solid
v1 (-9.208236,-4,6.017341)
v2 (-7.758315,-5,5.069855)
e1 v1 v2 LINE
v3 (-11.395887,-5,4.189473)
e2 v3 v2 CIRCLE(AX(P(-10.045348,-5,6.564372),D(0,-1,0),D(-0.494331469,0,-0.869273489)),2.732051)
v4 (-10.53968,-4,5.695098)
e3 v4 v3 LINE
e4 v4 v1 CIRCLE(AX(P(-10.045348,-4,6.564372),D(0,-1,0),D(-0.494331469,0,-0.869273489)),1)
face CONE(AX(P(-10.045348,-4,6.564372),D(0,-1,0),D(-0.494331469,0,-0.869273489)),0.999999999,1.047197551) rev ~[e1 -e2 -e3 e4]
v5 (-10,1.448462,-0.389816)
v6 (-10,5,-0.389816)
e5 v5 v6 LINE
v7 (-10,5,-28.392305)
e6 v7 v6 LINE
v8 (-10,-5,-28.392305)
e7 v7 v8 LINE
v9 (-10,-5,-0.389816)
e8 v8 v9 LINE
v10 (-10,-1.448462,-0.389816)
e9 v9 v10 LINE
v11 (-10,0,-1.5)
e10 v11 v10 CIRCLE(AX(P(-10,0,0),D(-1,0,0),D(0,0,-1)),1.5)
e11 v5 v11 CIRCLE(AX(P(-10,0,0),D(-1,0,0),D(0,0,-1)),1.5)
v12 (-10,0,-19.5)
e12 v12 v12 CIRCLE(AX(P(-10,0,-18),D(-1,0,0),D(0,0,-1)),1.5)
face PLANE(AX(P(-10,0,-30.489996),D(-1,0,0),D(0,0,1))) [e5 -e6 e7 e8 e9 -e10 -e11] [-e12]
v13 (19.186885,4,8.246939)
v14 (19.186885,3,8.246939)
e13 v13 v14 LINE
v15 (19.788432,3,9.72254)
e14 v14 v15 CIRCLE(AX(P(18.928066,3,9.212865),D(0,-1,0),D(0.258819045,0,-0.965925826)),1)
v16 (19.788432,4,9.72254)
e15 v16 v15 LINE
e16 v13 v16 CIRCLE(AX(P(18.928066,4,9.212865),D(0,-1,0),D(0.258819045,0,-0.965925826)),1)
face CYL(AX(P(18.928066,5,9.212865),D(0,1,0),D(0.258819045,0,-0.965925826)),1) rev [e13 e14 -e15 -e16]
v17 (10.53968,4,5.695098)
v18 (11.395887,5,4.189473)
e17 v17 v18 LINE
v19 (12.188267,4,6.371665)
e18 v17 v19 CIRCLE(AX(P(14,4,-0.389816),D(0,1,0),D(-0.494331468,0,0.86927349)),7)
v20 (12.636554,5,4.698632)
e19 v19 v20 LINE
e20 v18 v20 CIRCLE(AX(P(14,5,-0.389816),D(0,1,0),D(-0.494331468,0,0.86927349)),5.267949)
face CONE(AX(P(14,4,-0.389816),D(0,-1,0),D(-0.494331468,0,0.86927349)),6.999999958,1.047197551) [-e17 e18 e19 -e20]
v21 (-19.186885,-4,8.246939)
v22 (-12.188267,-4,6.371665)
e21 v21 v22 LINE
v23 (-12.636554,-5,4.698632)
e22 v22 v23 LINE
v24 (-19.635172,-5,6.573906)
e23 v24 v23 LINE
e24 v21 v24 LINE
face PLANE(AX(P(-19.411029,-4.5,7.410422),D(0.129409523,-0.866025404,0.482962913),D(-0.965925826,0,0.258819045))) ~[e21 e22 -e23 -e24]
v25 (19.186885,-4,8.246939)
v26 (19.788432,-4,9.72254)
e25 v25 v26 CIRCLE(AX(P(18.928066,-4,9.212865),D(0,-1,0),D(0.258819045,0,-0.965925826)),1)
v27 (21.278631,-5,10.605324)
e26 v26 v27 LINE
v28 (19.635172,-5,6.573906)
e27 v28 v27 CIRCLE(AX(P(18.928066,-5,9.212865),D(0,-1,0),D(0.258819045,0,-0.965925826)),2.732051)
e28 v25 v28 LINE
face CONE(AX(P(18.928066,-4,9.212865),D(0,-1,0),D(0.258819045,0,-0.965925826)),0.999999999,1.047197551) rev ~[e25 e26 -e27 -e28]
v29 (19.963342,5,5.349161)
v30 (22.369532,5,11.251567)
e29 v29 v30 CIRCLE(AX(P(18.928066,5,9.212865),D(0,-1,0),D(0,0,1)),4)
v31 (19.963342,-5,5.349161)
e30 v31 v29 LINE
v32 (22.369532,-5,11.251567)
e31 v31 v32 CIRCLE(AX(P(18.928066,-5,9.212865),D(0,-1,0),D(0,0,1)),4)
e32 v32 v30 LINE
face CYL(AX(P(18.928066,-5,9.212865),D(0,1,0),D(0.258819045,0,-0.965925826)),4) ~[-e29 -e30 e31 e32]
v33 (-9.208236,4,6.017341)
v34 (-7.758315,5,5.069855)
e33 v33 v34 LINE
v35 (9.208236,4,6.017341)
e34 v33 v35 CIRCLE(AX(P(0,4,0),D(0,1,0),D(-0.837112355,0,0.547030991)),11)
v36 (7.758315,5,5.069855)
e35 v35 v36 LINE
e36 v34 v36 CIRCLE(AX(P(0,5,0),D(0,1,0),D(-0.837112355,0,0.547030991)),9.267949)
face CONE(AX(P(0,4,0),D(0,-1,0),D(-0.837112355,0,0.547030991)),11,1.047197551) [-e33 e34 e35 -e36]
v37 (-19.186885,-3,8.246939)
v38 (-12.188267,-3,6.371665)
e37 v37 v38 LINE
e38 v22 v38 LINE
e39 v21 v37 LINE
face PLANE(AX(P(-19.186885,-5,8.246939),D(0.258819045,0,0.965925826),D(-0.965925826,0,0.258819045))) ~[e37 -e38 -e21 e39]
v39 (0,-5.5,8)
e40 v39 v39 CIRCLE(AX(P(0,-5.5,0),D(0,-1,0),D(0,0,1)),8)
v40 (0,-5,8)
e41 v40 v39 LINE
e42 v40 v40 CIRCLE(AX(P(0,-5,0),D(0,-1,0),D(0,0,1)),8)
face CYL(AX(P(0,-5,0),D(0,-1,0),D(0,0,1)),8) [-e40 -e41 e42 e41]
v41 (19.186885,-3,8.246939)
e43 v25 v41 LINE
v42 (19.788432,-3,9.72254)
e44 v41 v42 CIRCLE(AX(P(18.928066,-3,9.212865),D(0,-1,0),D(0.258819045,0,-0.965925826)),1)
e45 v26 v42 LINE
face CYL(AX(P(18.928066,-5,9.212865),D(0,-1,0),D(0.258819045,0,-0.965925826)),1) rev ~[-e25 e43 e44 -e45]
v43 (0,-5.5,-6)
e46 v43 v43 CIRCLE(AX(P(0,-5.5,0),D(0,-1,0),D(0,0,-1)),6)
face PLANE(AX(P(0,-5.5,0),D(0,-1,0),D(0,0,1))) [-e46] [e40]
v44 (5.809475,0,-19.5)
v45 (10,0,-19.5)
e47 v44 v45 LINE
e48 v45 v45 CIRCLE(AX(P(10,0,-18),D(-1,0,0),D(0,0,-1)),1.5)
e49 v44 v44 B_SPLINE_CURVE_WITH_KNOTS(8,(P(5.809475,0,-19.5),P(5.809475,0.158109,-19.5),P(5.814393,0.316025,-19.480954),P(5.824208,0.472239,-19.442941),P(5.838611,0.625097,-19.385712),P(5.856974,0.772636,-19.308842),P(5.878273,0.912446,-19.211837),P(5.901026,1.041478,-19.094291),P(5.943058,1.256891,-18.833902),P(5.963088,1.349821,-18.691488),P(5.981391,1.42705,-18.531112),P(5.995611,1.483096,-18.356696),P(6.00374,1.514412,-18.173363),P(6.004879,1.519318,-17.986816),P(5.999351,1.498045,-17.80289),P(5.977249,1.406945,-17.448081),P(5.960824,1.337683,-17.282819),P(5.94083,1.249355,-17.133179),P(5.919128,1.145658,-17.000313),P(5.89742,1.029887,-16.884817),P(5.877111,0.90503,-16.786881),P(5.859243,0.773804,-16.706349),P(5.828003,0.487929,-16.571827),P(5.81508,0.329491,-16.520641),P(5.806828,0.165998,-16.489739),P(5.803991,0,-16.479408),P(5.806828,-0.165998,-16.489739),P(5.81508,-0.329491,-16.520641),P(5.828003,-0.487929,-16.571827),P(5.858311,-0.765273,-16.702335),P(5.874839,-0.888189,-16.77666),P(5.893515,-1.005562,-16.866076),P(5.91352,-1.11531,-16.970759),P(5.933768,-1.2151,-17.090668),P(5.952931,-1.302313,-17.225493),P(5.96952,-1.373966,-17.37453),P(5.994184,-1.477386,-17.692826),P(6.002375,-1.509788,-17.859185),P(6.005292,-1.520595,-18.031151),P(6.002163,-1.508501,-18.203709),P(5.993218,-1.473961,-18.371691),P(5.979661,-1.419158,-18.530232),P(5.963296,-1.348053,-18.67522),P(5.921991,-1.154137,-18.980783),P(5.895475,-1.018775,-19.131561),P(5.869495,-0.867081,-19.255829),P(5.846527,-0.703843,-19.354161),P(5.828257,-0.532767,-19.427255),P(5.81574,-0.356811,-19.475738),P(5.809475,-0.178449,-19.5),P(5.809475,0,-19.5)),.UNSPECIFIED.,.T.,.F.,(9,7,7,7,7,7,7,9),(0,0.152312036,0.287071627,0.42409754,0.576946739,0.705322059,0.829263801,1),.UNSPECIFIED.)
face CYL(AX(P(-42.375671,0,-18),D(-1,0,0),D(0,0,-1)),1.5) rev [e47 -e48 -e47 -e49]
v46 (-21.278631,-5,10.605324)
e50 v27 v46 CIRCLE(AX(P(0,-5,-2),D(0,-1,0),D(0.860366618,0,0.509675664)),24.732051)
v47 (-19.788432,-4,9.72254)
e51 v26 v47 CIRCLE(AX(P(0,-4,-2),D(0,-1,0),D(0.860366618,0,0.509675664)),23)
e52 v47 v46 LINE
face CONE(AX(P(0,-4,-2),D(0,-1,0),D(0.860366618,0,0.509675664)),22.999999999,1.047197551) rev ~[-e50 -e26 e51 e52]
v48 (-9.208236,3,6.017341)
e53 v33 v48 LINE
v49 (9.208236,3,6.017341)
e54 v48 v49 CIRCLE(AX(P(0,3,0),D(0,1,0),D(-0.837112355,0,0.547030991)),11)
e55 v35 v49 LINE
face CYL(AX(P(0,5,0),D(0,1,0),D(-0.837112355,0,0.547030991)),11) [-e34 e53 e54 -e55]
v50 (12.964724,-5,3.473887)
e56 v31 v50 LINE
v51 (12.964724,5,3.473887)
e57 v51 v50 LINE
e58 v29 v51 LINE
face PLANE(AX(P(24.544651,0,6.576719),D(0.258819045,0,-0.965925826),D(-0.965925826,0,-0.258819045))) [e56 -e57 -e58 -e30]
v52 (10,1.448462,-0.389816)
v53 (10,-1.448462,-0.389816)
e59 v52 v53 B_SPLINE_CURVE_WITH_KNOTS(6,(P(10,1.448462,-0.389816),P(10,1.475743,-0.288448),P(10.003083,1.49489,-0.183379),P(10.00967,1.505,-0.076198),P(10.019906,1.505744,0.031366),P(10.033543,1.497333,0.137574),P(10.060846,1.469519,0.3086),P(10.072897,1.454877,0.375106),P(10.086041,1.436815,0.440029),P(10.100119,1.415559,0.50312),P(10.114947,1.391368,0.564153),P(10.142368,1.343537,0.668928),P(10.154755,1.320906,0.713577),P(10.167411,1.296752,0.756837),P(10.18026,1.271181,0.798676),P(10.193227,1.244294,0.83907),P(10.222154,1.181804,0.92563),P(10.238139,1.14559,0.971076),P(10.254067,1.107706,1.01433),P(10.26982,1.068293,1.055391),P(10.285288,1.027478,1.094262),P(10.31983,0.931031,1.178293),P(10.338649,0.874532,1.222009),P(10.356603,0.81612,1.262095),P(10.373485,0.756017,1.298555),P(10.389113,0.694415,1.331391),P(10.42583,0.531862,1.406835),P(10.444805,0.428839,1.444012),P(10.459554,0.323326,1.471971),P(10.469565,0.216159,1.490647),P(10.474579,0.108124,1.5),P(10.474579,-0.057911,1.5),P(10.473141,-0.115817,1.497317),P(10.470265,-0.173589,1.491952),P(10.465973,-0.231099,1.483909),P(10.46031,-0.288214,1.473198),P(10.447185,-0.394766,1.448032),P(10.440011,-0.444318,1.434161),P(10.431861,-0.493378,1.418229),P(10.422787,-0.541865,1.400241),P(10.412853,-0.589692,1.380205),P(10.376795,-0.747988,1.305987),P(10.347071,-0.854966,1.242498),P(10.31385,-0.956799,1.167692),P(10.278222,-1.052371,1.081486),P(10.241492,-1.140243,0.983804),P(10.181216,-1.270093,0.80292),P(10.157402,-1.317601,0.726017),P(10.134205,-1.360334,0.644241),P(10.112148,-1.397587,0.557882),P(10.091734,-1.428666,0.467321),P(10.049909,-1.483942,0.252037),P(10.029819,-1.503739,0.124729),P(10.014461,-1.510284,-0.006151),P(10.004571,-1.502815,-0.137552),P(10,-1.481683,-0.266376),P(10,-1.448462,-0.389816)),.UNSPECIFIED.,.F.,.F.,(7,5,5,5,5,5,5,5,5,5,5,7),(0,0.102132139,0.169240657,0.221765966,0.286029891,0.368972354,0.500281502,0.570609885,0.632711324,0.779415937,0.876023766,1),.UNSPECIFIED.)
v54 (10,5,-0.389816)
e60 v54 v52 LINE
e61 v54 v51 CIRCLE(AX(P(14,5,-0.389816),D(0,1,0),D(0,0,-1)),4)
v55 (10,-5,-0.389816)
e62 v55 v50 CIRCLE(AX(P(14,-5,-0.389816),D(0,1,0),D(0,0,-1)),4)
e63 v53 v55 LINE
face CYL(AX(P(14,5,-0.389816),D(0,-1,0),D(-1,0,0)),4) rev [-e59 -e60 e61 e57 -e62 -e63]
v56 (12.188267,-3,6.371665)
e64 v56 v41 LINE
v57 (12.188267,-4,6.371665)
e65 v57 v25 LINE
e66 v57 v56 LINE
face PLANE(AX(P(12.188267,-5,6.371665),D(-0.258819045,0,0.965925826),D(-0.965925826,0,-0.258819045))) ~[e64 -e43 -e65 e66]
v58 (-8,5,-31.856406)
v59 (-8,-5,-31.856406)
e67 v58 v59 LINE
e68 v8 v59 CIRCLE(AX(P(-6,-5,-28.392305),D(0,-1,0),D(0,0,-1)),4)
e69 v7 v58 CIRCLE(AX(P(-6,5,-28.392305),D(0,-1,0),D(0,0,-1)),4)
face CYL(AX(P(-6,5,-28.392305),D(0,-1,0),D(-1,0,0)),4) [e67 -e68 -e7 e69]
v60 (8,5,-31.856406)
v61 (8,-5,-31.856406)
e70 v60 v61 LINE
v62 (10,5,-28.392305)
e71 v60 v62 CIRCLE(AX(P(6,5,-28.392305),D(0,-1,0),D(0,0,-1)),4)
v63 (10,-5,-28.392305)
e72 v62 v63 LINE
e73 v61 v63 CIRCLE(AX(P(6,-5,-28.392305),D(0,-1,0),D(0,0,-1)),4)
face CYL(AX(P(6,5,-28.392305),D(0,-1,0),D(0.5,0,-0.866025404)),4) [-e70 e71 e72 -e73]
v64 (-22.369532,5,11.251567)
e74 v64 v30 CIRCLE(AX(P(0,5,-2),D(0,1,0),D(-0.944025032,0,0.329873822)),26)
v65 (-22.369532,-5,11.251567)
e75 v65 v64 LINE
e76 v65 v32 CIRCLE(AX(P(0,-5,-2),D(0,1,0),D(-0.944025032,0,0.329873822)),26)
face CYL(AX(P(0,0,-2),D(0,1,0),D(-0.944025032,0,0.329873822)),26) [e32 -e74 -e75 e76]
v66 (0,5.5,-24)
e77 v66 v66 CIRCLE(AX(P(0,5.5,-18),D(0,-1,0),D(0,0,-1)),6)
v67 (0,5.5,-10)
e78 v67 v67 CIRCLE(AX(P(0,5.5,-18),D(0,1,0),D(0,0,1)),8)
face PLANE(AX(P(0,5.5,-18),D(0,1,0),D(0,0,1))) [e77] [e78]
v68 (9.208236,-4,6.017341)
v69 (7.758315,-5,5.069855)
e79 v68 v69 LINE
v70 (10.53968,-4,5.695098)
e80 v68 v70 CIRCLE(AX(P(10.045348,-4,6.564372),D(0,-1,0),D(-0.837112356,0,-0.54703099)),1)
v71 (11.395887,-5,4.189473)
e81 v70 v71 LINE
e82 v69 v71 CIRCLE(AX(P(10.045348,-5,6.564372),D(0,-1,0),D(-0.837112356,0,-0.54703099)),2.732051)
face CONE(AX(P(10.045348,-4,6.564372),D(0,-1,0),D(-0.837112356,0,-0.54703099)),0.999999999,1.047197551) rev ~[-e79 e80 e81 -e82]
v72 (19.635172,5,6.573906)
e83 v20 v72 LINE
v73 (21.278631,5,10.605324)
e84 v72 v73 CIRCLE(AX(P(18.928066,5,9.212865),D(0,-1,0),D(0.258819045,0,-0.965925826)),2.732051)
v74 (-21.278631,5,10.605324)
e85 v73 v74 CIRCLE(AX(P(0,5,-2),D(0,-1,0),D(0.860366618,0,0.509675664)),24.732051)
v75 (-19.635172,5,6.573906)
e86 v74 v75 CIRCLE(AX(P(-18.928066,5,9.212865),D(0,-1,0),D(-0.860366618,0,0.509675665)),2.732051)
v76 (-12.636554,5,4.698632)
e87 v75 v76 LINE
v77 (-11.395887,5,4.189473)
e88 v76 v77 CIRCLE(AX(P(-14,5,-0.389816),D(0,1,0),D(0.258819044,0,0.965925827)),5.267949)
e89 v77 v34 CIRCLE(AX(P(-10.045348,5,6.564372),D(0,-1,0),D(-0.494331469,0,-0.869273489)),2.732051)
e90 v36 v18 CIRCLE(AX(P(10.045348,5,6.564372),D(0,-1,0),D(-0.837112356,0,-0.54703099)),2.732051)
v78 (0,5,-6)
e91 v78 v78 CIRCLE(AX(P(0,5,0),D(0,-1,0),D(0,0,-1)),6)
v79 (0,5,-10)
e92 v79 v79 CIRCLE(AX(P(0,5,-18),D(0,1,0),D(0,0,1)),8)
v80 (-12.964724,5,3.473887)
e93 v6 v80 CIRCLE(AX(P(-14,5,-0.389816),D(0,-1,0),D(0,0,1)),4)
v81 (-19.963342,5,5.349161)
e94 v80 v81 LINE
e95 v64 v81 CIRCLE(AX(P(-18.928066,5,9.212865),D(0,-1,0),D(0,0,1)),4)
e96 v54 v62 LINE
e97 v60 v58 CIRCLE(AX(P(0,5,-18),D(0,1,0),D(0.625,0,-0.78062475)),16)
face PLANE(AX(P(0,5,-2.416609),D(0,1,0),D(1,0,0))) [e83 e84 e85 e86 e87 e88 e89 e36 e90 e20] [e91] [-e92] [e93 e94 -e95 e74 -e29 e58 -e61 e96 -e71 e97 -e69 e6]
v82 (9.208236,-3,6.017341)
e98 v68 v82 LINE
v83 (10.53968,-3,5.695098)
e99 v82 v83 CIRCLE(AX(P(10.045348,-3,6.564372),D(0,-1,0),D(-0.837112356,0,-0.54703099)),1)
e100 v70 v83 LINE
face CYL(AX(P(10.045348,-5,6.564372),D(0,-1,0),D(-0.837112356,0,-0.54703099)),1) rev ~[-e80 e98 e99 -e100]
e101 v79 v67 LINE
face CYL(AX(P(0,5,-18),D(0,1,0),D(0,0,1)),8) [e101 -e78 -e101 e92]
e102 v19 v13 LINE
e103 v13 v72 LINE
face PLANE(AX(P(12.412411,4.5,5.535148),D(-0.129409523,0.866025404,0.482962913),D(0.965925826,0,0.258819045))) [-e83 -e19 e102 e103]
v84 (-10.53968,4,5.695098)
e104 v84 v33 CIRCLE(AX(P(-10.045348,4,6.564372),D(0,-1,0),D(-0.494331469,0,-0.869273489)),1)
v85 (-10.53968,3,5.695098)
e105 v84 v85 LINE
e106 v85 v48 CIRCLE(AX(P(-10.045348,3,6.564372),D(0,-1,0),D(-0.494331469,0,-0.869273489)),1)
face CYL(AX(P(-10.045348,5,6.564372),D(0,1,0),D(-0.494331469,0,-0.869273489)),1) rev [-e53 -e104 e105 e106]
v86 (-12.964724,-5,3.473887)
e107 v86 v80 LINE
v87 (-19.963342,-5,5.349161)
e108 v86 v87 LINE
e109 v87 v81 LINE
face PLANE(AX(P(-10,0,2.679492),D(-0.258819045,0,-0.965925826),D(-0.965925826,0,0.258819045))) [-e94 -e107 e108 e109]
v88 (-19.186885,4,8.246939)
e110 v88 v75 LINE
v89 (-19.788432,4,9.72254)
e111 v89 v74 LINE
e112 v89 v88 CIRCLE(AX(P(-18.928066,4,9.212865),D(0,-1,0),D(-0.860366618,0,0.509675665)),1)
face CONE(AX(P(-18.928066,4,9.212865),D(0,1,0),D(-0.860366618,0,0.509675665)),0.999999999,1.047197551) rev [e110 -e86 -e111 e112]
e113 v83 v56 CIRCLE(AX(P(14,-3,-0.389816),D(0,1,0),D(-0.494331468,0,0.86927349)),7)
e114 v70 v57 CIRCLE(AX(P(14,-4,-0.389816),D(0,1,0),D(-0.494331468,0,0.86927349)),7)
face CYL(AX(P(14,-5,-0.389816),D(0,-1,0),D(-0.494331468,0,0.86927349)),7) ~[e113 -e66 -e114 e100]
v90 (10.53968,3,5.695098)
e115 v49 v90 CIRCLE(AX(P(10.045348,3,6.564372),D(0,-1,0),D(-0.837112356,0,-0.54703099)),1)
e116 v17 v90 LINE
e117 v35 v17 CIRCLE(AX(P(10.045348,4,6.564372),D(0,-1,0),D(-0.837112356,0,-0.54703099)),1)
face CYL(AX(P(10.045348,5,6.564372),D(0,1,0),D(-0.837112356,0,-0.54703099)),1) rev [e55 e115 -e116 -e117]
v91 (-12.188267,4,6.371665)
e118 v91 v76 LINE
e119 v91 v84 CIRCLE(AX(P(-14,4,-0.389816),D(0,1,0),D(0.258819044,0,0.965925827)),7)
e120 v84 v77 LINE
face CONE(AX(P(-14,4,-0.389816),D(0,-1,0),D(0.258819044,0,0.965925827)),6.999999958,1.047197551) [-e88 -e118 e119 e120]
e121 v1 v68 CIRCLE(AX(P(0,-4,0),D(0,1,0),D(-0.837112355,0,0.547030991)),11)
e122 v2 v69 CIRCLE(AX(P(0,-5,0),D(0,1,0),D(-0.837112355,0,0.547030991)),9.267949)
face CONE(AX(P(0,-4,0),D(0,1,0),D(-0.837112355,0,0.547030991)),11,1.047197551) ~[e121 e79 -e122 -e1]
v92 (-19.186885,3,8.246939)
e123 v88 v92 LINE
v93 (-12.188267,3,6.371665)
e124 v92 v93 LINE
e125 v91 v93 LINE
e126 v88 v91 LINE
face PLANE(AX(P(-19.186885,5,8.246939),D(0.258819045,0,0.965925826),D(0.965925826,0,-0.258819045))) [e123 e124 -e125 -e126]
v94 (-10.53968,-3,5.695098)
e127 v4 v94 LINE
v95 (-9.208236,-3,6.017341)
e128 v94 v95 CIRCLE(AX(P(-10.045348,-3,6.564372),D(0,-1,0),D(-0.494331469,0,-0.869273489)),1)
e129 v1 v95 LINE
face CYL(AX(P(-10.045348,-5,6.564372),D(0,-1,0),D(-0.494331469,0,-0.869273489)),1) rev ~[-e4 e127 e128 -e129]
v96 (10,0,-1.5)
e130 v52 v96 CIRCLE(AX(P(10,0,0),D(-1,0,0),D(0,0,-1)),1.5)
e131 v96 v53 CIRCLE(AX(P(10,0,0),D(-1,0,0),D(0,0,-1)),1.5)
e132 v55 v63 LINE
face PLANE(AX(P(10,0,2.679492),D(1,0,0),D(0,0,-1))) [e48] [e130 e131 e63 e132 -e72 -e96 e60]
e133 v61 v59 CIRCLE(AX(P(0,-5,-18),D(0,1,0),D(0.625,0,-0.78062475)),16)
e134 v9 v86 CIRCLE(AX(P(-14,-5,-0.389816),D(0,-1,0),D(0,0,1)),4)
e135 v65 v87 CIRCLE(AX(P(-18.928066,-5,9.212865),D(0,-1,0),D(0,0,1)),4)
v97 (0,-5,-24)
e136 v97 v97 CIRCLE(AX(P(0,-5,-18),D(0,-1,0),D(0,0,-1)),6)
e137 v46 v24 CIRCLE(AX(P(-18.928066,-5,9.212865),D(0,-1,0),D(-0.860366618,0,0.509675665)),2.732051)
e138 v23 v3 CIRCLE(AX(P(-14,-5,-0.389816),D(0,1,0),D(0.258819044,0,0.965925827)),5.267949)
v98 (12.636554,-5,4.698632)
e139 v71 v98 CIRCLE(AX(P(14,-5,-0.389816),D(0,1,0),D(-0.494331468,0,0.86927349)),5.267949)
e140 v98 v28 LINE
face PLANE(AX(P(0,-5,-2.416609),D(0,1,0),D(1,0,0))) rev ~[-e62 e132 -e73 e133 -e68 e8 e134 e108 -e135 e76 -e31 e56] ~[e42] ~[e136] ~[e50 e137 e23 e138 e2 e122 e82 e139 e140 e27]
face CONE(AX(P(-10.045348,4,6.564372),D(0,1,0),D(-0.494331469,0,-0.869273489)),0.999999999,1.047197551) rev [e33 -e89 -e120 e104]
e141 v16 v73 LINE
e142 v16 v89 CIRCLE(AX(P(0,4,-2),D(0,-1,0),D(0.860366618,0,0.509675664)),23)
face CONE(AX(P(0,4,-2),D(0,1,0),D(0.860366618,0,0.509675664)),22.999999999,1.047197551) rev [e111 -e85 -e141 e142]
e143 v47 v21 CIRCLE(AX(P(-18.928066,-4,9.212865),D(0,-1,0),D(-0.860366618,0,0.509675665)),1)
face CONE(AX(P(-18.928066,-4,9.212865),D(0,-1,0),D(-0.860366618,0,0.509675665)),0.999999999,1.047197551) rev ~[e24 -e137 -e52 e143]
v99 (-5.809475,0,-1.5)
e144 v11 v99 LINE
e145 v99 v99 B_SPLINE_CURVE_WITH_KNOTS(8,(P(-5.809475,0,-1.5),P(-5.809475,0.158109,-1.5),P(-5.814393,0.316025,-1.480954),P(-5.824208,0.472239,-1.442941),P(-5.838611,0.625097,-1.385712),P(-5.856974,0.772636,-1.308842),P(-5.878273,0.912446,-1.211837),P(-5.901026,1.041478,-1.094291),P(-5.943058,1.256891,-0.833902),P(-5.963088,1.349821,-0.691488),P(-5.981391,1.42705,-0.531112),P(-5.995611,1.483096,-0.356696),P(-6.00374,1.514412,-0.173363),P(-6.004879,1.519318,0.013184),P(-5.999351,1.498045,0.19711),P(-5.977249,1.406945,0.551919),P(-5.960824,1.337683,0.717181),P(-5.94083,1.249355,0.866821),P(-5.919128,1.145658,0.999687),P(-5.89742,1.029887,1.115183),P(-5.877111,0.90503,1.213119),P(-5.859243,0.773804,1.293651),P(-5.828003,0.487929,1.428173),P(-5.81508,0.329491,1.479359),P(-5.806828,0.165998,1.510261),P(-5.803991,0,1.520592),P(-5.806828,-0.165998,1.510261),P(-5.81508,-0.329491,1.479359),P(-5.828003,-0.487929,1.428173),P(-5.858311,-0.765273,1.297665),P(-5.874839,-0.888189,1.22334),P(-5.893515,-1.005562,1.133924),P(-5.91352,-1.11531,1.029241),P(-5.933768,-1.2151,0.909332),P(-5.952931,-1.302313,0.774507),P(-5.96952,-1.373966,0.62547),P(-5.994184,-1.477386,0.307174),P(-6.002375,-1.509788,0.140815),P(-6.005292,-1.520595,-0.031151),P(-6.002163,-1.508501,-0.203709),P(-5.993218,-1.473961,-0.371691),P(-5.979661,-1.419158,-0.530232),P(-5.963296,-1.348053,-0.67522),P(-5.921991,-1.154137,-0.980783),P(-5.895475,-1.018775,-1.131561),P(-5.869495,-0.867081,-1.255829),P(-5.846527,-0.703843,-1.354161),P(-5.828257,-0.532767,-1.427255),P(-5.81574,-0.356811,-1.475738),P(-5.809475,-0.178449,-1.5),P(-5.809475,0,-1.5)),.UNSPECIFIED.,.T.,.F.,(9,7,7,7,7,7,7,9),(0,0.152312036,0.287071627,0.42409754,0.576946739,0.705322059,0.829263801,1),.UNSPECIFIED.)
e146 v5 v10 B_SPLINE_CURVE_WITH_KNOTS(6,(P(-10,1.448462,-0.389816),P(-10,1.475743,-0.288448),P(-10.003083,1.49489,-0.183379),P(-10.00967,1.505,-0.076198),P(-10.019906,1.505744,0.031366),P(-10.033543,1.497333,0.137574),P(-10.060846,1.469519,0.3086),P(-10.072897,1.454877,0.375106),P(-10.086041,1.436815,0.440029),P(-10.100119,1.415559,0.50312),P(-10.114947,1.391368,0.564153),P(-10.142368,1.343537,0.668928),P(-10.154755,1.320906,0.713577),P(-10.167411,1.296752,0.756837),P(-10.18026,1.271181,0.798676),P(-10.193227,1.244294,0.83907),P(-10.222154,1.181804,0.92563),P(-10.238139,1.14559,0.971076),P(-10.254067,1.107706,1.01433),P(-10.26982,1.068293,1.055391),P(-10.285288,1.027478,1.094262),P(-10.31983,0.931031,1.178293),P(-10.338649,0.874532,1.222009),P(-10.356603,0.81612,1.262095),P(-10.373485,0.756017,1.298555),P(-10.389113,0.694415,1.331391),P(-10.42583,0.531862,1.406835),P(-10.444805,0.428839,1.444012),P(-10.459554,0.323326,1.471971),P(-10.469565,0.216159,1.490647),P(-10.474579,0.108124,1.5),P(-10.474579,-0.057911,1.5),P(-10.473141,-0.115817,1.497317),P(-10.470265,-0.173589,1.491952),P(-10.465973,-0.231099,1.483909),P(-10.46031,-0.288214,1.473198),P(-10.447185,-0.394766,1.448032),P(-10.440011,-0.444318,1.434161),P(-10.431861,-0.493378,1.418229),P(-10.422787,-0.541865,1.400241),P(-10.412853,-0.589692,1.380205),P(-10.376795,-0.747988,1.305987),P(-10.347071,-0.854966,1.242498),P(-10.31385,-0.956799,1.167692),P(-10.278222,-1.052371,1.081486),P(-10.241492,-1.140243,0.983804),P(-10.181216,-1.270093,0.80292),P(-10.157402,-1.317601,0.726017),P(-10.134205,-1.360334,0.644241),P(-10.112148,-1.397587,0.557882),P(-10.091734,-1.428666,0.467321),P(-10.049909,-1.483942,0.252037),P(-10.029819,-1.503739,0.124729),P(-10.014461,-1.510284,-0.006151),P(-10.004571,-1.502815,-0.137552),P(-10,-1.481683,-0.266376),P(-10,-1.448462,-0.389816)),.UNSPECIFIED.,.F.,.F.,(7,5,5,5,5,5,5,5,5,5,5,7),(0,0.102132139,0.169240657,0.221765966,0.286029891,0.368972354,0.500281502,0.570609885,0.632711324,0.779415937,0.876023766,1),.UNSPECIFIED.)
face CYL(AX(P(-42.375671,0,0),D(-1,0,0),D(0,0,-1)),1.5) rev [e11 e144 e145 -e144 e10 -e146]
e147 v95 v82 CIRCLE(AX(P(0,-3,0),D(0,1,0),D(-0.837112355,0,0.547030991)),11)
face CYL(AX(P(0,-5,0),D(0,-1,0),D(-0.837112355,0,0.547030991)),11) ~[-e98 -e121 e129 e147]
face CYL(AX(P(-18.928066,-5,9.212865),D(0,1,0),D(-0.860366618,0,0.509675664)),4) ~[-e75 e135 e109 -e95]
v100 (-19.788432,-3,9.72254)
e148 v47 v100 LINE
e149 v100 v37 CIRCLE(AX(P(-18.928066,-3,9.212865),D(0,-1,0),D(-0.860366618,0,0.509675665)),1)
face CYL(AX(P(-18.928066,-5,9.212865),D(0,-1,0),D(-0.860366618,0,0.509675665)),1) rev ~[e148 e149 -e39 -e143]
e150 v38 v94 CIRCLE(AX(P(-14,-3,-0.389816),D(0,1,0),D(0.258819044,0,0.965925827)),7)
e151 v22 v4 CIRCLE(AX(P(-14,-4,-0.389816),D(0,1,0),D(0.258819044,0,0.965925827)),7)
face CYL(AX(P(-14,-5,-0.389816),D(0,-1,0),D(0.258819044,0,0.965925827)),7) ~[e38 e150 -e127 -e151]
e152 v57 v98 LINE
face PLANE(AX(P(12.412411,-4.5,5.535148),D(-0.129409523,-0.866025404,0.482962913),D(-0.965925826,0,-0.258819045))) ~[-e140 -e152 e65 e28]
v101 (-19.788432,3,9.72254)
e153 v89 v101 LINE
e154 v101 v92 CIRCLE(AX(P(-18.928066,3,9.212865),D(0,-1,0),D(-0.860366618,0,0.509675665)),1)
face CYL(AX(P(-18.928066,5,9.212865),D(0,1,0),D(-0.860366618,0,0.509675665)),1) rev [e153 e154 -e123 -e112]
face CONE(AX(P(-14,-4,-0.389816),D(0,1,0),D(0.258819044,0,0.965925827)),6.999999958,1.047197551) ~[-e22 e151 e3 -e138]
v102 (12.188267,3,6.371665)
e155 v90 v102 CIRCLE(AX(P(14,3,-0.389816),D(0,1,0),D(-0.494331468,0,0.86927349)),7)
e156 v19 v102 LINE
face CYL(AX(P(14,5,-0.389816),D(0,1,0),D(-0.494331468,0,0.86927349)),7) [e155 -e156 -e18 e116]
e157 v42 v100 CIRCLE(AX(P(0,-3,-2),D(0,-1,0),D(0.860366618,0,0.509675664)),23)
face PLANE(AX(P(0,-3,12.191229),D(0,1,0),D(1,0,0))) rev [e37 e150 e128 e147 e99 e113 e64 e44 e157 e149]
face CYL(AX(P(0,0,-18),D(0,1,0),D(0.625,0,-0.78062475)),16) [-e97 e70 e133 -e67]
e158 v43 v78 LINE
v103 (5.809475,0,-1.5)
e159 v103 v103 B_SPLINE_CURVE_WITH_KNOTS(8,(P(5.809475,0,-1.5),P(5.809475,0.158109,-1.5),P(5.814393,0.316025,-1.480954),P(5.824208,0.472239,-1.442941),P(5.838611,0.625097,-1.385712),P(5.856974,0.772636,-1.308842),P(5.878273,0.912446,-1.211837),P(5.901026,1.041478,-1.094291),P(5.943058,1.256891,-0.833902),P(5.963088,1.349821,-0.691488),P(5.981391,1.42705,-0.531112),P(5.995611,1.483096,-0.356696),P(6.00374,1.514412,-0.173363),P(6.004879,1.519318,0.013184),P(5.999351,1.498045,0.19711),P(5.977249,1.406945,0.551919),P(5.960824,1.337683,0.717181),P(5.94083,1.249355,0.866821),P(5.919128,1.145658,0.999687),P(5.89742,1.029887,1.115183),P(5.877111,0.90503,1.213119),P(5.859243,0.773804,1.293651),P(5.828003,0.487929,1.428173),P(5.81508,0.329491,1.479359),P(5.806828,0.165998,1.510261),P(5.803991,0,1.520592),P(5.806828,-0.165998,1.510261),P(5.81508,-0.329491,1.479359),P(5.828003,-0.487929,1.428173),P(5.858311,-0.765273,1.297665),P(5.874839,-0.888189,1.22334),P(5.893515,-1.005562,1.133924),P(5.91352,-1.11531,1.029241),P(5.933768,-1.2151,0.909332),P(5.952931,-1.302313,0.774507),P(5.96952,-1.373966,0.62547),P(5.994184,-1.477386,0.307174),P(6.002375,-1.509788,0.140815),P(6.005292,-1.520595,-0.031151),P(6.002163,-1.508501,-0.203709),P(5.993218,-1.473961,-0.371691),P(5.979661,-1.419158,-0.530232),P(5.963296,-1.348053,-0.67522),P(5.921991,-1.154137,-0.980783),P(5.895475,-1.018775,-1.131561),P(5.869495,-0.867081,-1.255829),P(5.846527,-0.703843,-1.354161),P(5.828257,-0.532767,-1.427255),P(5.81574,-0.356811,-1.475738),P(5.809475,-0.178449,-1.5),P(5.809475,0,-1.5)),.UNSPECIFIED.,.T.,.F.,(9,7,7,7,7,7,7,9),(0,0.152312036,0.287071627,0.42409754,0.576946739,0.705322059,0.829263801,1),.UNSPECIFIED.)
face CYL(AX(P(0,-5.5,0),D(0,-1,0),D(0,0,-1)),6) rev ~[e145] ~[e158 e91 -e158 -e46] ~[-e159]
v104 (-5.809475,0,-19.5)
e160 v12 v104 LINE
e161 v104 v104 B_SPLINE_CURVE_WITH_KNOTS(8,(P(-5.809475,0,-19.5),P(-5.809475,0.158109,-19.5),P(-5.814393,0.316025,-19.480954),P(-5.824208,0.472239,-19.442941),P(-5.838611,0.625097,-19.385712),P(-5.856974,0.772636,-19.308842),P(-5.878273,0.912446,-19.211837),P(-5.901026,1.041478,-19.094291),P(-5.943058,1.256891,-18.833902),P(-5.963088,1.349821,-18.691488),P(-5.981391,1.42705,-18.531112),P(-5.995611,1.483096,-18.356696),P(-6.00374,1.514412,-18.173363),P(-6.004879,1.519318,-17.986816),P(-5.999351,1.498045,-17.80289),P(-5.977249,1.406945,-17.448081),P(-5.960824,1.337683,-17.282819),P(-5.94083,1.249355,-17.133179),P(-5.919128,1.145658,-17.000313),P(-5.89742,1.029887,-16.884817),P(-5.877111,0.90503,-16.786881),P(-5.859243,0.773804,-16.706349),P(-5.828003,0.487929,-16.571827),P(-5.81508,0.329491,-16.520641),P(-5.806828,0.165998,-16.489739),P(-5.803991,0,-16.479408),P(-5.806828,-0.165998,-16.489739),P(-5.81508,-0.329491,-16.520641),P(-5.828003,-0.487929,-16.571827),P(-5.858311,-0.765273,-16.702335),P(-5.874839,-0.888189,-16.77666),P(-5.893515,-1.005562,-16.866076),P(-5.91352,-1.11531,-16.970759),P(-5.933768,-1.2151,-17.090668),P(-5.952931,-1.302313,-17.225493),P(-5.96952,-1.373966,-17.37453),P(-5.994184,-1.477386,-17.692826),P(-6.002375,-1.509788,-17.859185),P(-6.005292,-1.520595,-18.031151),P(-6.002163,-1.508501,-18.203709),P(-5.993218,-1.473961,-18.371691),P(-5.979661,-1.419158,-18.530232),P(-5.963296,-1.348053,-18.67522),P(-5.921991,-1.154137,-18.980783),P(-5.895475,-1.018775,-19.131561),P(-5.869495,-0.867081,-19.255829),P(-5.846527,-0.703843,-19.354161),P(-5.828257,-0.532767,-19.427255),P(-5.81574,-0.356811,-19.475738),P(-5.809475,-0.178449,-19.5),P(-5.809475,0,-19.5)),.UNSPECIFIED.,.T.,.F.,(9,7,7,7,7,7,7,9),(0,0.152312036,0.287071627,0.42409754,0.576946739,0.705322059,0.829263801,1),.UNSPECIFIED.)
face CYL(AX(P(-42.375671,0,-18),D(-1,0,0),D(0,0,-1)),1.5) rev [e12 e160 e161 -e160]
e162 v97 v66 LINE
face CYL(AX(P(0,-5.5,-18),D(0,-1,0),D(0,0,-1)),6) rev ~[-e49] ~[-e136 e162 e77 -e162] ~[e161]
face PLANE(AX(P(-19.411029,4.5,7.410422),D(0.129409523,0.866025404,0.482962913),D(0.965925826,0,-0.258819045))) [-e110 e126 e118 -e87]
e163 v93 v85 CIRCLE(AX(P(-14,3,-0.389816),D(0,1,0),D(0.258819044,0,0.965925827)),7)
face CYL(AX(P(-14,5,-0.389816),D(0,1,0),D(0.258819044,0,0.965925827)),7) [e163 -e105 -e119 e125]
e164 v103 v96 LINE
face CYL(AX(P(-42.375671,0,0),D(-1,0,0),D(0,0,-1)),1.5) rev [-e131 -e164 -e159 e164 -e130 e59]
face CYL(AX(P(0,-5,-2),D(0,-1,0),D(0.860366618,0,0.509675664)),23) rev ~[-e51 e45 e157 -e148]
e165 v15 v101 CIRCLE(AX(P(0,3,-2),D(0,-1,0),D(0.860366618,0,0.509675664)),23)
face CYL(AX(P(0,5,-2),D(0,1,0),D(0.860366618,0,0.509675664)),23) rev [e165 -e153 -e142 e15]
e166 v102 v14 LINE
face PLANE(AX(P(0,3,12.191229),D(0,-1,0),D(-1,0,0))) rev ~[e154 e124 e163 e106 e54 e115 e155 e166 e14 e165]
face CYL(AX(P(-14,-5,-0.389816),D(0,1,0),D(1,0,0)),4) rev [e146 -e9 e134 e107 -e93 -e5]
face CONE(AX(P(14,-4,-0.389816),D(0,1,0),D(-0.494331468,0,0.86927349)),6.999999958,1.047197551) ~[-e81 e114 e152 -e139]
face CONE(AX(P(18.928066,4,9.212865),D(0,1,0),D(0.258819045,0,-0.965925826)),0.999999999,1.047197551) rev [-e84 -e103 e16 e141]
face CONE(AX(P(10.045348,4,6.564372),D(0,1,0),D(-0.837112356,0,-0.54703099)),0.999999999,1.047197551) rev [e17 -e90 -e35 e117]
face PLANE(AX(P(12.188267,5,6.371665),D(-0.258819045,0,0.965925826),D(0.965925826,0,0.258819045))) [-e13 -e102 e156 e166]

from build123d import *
from OCP.BRepFilletAPI import BRepFilletAPI_MakeChamfer

# Parameters (mm, degrees)
BOSS_EXTRUDE1_DEPTH     = 5
FILLET1_R               = 4
SKETCH3_R               = 8
BOSS_EXTRUDE2_DEPTH     = 0.5
SKETCH4_R               = 8
BOSS_EXTRUDE3_DEPTH     = 0.5
SKETCH5_R               = 6
CUT_EXTRUDE3_DEPTH      = 43.458169908
CUT_EXTRUDE4_DEPTH      = 2
CHAMFER1_SIZE           = 1
CHAMFER1_SIZE2          = 1.732050808
CHAMFER2_SIZE           = 1
CHAMFER2_SIZE2          = 1.732050808
CUT_EXTRUDE5_DEPTH      = 42.375671498
CUT_EXTRUDE5_DEPTH_BACK = 42.375671498
SKETCH7_R               = 1.5


with BuildPart() as part:
    # Sketch1 → Boss-Extrude1 (new, symmetric)
    with BuildSketch(Plane(origin=(0, 0, 0), x_dir=(1, 0, 0), z_dir=(0, 1, 0))):
        with BuildLine():
            Line((-10, 30.489995997), (-10, -2.679491924))
            Line((-10, -2.679491924), (-24.544650839, -6.576719371))
            ThreePointArc((-24.544650839, -6.576719371), (0, -24), (24.544650839, -6.576719371))
            Line((24.544650839, -6.576719371), (10, -2.679491924))
            Line((10, -2.679491924), (10, 30.489995997))
            ThreePointArc((10, 30.489995997), (0, 34), (-10, 30.489995997))
        make_face()
    extrude(amount=BOSS_EXTRUDE1_DEPTH, both=True)

    # Fillet1
    fillet1_edges = [part.edges().sort_by_distance(p)[0] for p in [
        (10, 0, -30.489995997),
        (10, 0, 2.679491924),
        (24.544650839, 0, 6.576719371),
        (-24.544650839, 0, 6.576719371),
        (-10, 0, 2.679491924),
        (-10, 0, -30.489995997),
    ]]
    fillet(fillet1_edges, radius=FILLET1_R)

    # Sketch3 → Boss-Extrude2 (add, symmetric)
    with BuildSketch(Plane.XZ.offset(5)):
        with Locations(Location((0, 0, 0), (0, 0, 90))):
            Circle(SKETCH3_R)
    extrude(amount=BOSS_EXTRUDE2_DEPTH, both=True)

    # Sketch4 → Boss-Extrude3 (add, symmetric)
    with BuildSketch(Plane(origin=(0, 5, 0), x_dir=(1, 0, 0), z_dir=(0, 1, 0))):
        with Locations(Location((0, 18, 0), (0, 0, 270))):
            Circle(SKETCH4_R)
    extrude(amount=BOSS_EXTRUDE3_DEPTH, both=True)

    # Sketch5 → Cut-Extrude3 (cut, through all)
    with BuildSketch(Plane.XZ.offset(5.5)):
        with Locations(Location((0, 0, 0), (0, 0, 270))):
            Circle(SKETCH5_R)
        with Locations(Location((0, -18, 0), (0, 0, 270))):
            Circle(SKETCH5_R)
    extrude(amount=-CUT_EXTRUDE3_DEPTH, mode=Mode.SUBTRACT)

    # Sketch6 → Cut-Extrude4 (cut)
    with BuildSketch(Plane(origin=(0, 5, 0), x_dir=(1, 0, 0), z_dir=(0, 1, 0))):
        with BuildLine():
            Line((12.188266684, -6.371664756), (19.186884641, -8.246938786))
            ThreePointArc((19.186884641, -8.246938786), (19.854075356, -8.835365045), (19.788432213, -9.722540276))
            ThreePointArc((19.788432213, -9.722540276), (0, -21), (-19.788432213, -9.722540276))
            ThreePointArc((-19.788432213, -9.722540276), (-19.854075356, -8.835365045), (-19.186884641, -8.246938786))
            Line((-19.186884641, -8.246938786), (-12.188266684, -6.371664756))
            ThreePointArc((-12.188266684, -6.371664756), (-11.342355786, -6.086056673), (-10.539679728, -5.695098402))
            ThreePointArc((-10.539679728, -5.695098402), (-9.810114884, -5.592432974), (-9.208235905, -6.017340901))
            ThreePointArc((-9.208235905, -6.017340901), (0, -11), (9.208235905, -6.017340901))
            ThreePointArc((9.208235905, -6.017340901), (9.810114884, -5.592432974), (10.539679728, -5.695098402))
            ThreePointArc((10.539679728, -5.695098402), (11.342355786, -6.086056673), (12.188266684, -6.371664756))
        make_face()
    cut_extrude4 = extrude(amount=-CUT_EXTRUDE4_DEPTH, mode=Mode.SUBTRACT)

    # Chamfer1: one chamfer whose edges measure the first distance from different faces: ONE call of the kernel's chamfer builder (chamfer() names one face for all edges)
    chamfer1_edges_1 = [part.edges().sort_by_distance(p)[0] for p in [
        (9.810114884, 5, 5.592432974),
    ]]
    chamfer1_side_1 = [part.faces().sort_by_distance(p)[0] for p in [
        (9.810114884, 4, 5.592432974),
    ]]
    chamfer1_edges_2 = [part.edges().sort_by_distance(p)[0] for p in [
        (0, 5, 11),
    ]]
    chamfer1_side_2 = [part.faces().sort_by_distance(p)[0] for p in [
        (0, 4, 11),
    ]]
    chamfer1_edges_3 = [part.edges().sort_by_distance(p)[0] for p in [
        (-9.810114884, 5, 5.592432974),
    ]]
    chamfer1_side_3 = [part.faces().sort_by_distance(p)[0] for p in [
        (-9.810114884, 4, 5.592432974),
    ]]
    chamfer1_edges_4 = [part.edges().sort_by_distance(p)[0] for p in [
        (-11.342355786, 5, 6.086056673),
    ]]
    chamfer1_side_4 = [part.faces().sort_by_distance(p)[0] for p in [
        (-11.342355786, 4, 6.086056673),
    ]]
    chamfer1_edges_5 = [part.edges().sort_by_distance(p)[0] for p in [
        (-15.687575662, 5, 7.309301771),
    ]]
    chamfer1_side_5 = [part.faces().sort_by_distance(p)[0] for p in [
        (-15.687575662, 4, 7.309301771),
    ]]
    chamfer1_edges_6 = [part.edges().sort_by_distance(p)[0] for p in [
        (-19.854075356, 5, 8.835365045),
    ]]
    chamfer1_side_6 = [part.faces().sort_by_distance(p)[0] for p in [
        (-19.854075356, 4, 8.835365045),
    ]]
    chamfer1_edges_7 = [part.edges().sort_by_distance(p)[0] for p in [
        (0, 5, 21),
    ]]
    chamfer1_side_7 = [part.faces().sort_by_distance(p)[0] for p in [
        (0, 4, 21),
    ]]
    chamfer1_edges_8 = [part.edges().sort_by_distance(p)[0] for p in [
        (19.854075356, 5, 8.835365045),
    ]]
    chamfer1_side_8 = [part.faces().sort_by_distance(p)[0] for p in [
        (19.854075356, 4, 8.835365045),
    ]]
    chamfer1_edges_9 = [part.edges().sort_by_distance(p)[0] for p in [
        (15.687575662, 5, 7.309301771),
    ]]
    chamfer1_side_9 = [part.faces().sort_by_distance(p)[0] for p in [
        (15.687575662, 4, 7.309301771),
    ]]
    chamfer1_edges_10 = [part.edges().sort_by_distance(p)[0] for p in [
        (11.342355786, 5, 6.086056673),
    ]]
    chamfer1_side_10 = [part.faces().sort_by_distance(p)[0] for p in [
        (11.342355786, 4, 6.086056673),
    ]]
    chamfer1 = BRepFilletAPI_MakeChamfer(part.part.solid().wrapped)
    for e in chamfer1_edges_1:
        chamfer1.Add(CHAMFER1_SIZE, CHAMFER1_SIZE2, e.wrapped, chamfer1_side_1[0].wrapped)  # the first distance lies on this face
    for e in chamfer1_edges_2:
        chamfer1.Add(CHAMFER1_SIZE, CHAMFER1_SIZE2, e.wrapped, chamfer1_side_2[0].wrapped)  # the first distance lies on this face
    for e in chamfer1_edges_3:
        chamfer1.Add(CHAMFER1_SIZE, CHAMFER1_SIZE2, e.wrapped, chamfer1_side_3[0].wrapped)  # the first distance lies on this face
    for e in chamfer1_edges_4:
        chamfer1.Add(CHAMFER1_SIZE, CHAMFER1_SIZE2, e.wrapped, chamfer1_side_4[0].wrapped)  # the first distance lies on this face
    for e in chamfer1_edges_5:
        chamfer1.Add(CHAMFER1_SIZE, CHAMFER1_SIZE2, e.wrapped, chamfer1_side_5[0].wrapped)  # the first distance lies on this face
    for e in chamfer1_edges_6:
        chamfer1.Add(CHAMFER1_SIZE, CHAMFER1_SIZE2, e.wrapped, chamfer1_side_6[0].wrapped)  # the first distance lies on this face
    for e in chamfer1_edges_7:
        chamfer1.Add(CHAMFER1_SIZE, CHAMFER1_SIZE2, e.wrapped, chamfer1_side_7[0].wrapped)  # the first distance lies on this face
    for e in chamfer1_edges_8:
        chamfer1.Add(CHAMFER1_SIZE, CHAMFER1_SIZE2, e.wrapped, chamfer1_side_8[0].wrapped)  # the first distance lies on this face
    for e in chamfer1_edges_9:
        chamfer1.Add(CHAMFER1_SIZE, CHAMFER1_SIZE2, e.wrapped, chamfer1_side_9[0].wrapped)  # the first distance lies on this face
    for e in chamfer1_edges_10:
        chamfer1.Add(CHAMFER1_SIZE, CHAMFER1_SIZE2, e.wrapped, chamfer1_side_10[0].wrapped)  # the first distance lies on this face
    add(Compound.cast(chamfer1.Shape()), mode=Mode.REPLACE)

    # Mirror5: Cut-Extrude4 across plane
    add(cut_extrude4.mirror(Plane.ZX), mode=Mode.SUBTRACT)

    # Chamfer2: one chamfer whose edges measure the first distance from different faces: ONE call of the kernel's chamfer builder (chamfer() names one face for all edges)
    chamfer2_edges_1 = [part.edges().sort_by_distance(p)[0] for p in [
        (9.810114884, -5, 5.592432974),
    ]]
    chamfer2_side_1 = [part.faces().sort_by_distance(p)[0] for p in [
        (9.810114884, -4, 5.592432974),
    ]]
    chamfer2_edges_2 = [part.edges().sort_by_distance(p)[0] for p in [
        (0, -5, 11),
    ]]
    chamfer2_side_2 = [part.faces().sort_by_distance(p)[0] for p in [
        (0, -4, 11),
    ]]
    chamfer2_edges_3 = [part.edges().sort_by_distance(p)[0] for p in [
        (-9.810114884, -5, 5.592432974),
    ]]
    chamfer2_side_3 = [part.faces().sort_by_distance(p)[0] for p in [
        (-9.810114884, -4, 5.592432974),
    ]]
    chamfer2_edges_4 = [part.edges().sort_by_distance(p)[0] for p in [
        (-11.342355786, -5, 6.086056673),
    ]]
    chamfer2_side_4 = [part.faces().sort_by_distance(p)[0] for p in [
        (-11.342355786, -4, 6.086056673),
    ]]
    chamfer2_edges_5 = [part.edges().sort_by_distance(p)[0] for p in [
        (-15.687575662, -5, 7.309301771),
    ]]
    chamfer2_side_5 = [part.faces().sort_by_distance(p)[0] for p in [
        (-15.687575662, -4, 7.309301771),
    ]]
    chamfer2_edges_6 = [part.edges().sort_by_distance(p)[0] for p in [
        (-19.854075356, -5, 8.835365045),
    ]]
    chamfer2_side_6 = [part.faces().sort_by_distance(p)[0] for p in [
        (-19.854075356, -4, 8.835365045),
    ]]
    chamfer2_edges_7 = [part.edges().sort_by_distance(p)[0] for p in [
        (0, -5, 21),
    ]]
    chamfer2_side_7 = [part.faces().sort_by_distance(p)[0] for p in [
        (0, -4, 21),
    ]]
    chamfer2_edges_8 = [part.edges().sort_by_distance(p)[0] for p in [
        (19.854075356, -5, 8.835365045),
    ]]
    chamfer2_side_8 = [part.faces().sort_by_distance(p)[0] for p in [
        (19.854075356, -4, 8.835365045),
    ]]
    chamfer2_edges_9 = [part.edges().sort_by_distance(p)[0] for p in [
        (15.687575662, -5, 7.309301771),
    ]]
    chamfer2_side_9 = [part.faces().sort_by_distance(p)[0] for p in [
        (15.687575662, -4, 7.309301771),
    ]]
    chamfer2_edges_10 = [part.edges().sort_by_distance(p)[0] for p in [
        (11.342355786, -5, 6.086056673),
    ]]
    chamfer2_side_10 = [part.faces().sort_by_distance(p)[0] for p in [
        (11.342355786, -4, 6.086056673),
    ]]
    chamfer2 = BRepFilletAPI_MakeChamfer(part.part.solid().wrapped)
    for e in chamfer2_edges_1:
        chamfer2.Add(CHAMFER2_SIZE, CHAMFER2_SIZE2, e.wrapped, chamfer2_side_1[0].wrapped)  # the first distance lies on this face
    for e in chamfer2_edges_2:
        chamfer2.Add(CHAMFER2_SIZE, CHAMFER2_SIZE2, e.wrapped, chamfer2_side_2[0].wrapped)  # the first distance lies on this face
    for e in chamfer2_edges_3:
        chamfer2.Add(CHAMFER2_SIZE, CHAMFER2_SIZE2, e.wrapped, chamfer2_side_3[0].wrapped)  # the first distance lies on this face
    for e in chamfer2_edges_4:
        chamfer2.Add(CHAMFER2_SIZE, CHAMFER2_SIZE2, e.wrapped, chamfer2_side_4[0].wrapped)  # the first distance lies on this face
    for e in chamfer2_edges_5:
        chamfer2.Add(CHAMFER2_SIZE, CHAMFER2_SIZE2, e.wrapped, chamfer2_side_5[0].wrapped)  # the first distance lies on this face
    for e in chamfer2_edges_6:
        chamfer2.Add(CHAMFER2_SIZE, CHAMFER2_SIZE2, e.wrapped, chamfer2_side_6[0].wrapped)  # the first distance lies on this face
    for e in chamfer2_edges_7:
        chamfer2.Add(CHAMFER2_SIZE, CHAMFER2_SIZE2, e.wrapped, chamfer2_side_7[0].wrapped)  # the first distance lies on this face
    for e in chamfer2_edges_8:
        chamfer2.Add(CHAMFER2_SIZE, CHAMFER2_SIZE2, e.wrapped, chamfer2_side_8[0].wrapped)  # the first distance lies on this face
    for e in chamfer2_edges_9:
        chamfer2.Add(CHAMFER2_SIZE, CHAMFER2_SIZE2, e.wrapped, chamfer2_side_9[0].wrapped)  # the first distance lies on this face
    for e in chamfer2_edges_10:
        chamfer2.Add(CHAMFER2_SIZE, CHAMFER2_SIZE2, e.wrapped, chamfer2_side_10[0].wrapped)  # the first distance lies on this face
    add(Compound.cast(chamfer2.Shape()), mode=Mode.REPLACE)

    # Sketch7 → Cut-Extrude5 (cut, two sides: drawn at the far end of the back side and taken through both)
    with BuildSketch(Plane(origin=(0, 0, 0), x_dir=(0, 0, -1), z_dir=(1, 0, 0)).offset(-CUT_EXTRUDE5_DEPTH_BACK)):
        Circle(SKETCH7_R)
        with Locations((18, 0)):
            Circle(SKETCH7_R)
    extrude(amount=CUT_EXTRUDE5_DEPTH + CUT_EXTRUDE5_DEPTH_BACK, mode=Mode.SUBTRACT)


solid = part.part
